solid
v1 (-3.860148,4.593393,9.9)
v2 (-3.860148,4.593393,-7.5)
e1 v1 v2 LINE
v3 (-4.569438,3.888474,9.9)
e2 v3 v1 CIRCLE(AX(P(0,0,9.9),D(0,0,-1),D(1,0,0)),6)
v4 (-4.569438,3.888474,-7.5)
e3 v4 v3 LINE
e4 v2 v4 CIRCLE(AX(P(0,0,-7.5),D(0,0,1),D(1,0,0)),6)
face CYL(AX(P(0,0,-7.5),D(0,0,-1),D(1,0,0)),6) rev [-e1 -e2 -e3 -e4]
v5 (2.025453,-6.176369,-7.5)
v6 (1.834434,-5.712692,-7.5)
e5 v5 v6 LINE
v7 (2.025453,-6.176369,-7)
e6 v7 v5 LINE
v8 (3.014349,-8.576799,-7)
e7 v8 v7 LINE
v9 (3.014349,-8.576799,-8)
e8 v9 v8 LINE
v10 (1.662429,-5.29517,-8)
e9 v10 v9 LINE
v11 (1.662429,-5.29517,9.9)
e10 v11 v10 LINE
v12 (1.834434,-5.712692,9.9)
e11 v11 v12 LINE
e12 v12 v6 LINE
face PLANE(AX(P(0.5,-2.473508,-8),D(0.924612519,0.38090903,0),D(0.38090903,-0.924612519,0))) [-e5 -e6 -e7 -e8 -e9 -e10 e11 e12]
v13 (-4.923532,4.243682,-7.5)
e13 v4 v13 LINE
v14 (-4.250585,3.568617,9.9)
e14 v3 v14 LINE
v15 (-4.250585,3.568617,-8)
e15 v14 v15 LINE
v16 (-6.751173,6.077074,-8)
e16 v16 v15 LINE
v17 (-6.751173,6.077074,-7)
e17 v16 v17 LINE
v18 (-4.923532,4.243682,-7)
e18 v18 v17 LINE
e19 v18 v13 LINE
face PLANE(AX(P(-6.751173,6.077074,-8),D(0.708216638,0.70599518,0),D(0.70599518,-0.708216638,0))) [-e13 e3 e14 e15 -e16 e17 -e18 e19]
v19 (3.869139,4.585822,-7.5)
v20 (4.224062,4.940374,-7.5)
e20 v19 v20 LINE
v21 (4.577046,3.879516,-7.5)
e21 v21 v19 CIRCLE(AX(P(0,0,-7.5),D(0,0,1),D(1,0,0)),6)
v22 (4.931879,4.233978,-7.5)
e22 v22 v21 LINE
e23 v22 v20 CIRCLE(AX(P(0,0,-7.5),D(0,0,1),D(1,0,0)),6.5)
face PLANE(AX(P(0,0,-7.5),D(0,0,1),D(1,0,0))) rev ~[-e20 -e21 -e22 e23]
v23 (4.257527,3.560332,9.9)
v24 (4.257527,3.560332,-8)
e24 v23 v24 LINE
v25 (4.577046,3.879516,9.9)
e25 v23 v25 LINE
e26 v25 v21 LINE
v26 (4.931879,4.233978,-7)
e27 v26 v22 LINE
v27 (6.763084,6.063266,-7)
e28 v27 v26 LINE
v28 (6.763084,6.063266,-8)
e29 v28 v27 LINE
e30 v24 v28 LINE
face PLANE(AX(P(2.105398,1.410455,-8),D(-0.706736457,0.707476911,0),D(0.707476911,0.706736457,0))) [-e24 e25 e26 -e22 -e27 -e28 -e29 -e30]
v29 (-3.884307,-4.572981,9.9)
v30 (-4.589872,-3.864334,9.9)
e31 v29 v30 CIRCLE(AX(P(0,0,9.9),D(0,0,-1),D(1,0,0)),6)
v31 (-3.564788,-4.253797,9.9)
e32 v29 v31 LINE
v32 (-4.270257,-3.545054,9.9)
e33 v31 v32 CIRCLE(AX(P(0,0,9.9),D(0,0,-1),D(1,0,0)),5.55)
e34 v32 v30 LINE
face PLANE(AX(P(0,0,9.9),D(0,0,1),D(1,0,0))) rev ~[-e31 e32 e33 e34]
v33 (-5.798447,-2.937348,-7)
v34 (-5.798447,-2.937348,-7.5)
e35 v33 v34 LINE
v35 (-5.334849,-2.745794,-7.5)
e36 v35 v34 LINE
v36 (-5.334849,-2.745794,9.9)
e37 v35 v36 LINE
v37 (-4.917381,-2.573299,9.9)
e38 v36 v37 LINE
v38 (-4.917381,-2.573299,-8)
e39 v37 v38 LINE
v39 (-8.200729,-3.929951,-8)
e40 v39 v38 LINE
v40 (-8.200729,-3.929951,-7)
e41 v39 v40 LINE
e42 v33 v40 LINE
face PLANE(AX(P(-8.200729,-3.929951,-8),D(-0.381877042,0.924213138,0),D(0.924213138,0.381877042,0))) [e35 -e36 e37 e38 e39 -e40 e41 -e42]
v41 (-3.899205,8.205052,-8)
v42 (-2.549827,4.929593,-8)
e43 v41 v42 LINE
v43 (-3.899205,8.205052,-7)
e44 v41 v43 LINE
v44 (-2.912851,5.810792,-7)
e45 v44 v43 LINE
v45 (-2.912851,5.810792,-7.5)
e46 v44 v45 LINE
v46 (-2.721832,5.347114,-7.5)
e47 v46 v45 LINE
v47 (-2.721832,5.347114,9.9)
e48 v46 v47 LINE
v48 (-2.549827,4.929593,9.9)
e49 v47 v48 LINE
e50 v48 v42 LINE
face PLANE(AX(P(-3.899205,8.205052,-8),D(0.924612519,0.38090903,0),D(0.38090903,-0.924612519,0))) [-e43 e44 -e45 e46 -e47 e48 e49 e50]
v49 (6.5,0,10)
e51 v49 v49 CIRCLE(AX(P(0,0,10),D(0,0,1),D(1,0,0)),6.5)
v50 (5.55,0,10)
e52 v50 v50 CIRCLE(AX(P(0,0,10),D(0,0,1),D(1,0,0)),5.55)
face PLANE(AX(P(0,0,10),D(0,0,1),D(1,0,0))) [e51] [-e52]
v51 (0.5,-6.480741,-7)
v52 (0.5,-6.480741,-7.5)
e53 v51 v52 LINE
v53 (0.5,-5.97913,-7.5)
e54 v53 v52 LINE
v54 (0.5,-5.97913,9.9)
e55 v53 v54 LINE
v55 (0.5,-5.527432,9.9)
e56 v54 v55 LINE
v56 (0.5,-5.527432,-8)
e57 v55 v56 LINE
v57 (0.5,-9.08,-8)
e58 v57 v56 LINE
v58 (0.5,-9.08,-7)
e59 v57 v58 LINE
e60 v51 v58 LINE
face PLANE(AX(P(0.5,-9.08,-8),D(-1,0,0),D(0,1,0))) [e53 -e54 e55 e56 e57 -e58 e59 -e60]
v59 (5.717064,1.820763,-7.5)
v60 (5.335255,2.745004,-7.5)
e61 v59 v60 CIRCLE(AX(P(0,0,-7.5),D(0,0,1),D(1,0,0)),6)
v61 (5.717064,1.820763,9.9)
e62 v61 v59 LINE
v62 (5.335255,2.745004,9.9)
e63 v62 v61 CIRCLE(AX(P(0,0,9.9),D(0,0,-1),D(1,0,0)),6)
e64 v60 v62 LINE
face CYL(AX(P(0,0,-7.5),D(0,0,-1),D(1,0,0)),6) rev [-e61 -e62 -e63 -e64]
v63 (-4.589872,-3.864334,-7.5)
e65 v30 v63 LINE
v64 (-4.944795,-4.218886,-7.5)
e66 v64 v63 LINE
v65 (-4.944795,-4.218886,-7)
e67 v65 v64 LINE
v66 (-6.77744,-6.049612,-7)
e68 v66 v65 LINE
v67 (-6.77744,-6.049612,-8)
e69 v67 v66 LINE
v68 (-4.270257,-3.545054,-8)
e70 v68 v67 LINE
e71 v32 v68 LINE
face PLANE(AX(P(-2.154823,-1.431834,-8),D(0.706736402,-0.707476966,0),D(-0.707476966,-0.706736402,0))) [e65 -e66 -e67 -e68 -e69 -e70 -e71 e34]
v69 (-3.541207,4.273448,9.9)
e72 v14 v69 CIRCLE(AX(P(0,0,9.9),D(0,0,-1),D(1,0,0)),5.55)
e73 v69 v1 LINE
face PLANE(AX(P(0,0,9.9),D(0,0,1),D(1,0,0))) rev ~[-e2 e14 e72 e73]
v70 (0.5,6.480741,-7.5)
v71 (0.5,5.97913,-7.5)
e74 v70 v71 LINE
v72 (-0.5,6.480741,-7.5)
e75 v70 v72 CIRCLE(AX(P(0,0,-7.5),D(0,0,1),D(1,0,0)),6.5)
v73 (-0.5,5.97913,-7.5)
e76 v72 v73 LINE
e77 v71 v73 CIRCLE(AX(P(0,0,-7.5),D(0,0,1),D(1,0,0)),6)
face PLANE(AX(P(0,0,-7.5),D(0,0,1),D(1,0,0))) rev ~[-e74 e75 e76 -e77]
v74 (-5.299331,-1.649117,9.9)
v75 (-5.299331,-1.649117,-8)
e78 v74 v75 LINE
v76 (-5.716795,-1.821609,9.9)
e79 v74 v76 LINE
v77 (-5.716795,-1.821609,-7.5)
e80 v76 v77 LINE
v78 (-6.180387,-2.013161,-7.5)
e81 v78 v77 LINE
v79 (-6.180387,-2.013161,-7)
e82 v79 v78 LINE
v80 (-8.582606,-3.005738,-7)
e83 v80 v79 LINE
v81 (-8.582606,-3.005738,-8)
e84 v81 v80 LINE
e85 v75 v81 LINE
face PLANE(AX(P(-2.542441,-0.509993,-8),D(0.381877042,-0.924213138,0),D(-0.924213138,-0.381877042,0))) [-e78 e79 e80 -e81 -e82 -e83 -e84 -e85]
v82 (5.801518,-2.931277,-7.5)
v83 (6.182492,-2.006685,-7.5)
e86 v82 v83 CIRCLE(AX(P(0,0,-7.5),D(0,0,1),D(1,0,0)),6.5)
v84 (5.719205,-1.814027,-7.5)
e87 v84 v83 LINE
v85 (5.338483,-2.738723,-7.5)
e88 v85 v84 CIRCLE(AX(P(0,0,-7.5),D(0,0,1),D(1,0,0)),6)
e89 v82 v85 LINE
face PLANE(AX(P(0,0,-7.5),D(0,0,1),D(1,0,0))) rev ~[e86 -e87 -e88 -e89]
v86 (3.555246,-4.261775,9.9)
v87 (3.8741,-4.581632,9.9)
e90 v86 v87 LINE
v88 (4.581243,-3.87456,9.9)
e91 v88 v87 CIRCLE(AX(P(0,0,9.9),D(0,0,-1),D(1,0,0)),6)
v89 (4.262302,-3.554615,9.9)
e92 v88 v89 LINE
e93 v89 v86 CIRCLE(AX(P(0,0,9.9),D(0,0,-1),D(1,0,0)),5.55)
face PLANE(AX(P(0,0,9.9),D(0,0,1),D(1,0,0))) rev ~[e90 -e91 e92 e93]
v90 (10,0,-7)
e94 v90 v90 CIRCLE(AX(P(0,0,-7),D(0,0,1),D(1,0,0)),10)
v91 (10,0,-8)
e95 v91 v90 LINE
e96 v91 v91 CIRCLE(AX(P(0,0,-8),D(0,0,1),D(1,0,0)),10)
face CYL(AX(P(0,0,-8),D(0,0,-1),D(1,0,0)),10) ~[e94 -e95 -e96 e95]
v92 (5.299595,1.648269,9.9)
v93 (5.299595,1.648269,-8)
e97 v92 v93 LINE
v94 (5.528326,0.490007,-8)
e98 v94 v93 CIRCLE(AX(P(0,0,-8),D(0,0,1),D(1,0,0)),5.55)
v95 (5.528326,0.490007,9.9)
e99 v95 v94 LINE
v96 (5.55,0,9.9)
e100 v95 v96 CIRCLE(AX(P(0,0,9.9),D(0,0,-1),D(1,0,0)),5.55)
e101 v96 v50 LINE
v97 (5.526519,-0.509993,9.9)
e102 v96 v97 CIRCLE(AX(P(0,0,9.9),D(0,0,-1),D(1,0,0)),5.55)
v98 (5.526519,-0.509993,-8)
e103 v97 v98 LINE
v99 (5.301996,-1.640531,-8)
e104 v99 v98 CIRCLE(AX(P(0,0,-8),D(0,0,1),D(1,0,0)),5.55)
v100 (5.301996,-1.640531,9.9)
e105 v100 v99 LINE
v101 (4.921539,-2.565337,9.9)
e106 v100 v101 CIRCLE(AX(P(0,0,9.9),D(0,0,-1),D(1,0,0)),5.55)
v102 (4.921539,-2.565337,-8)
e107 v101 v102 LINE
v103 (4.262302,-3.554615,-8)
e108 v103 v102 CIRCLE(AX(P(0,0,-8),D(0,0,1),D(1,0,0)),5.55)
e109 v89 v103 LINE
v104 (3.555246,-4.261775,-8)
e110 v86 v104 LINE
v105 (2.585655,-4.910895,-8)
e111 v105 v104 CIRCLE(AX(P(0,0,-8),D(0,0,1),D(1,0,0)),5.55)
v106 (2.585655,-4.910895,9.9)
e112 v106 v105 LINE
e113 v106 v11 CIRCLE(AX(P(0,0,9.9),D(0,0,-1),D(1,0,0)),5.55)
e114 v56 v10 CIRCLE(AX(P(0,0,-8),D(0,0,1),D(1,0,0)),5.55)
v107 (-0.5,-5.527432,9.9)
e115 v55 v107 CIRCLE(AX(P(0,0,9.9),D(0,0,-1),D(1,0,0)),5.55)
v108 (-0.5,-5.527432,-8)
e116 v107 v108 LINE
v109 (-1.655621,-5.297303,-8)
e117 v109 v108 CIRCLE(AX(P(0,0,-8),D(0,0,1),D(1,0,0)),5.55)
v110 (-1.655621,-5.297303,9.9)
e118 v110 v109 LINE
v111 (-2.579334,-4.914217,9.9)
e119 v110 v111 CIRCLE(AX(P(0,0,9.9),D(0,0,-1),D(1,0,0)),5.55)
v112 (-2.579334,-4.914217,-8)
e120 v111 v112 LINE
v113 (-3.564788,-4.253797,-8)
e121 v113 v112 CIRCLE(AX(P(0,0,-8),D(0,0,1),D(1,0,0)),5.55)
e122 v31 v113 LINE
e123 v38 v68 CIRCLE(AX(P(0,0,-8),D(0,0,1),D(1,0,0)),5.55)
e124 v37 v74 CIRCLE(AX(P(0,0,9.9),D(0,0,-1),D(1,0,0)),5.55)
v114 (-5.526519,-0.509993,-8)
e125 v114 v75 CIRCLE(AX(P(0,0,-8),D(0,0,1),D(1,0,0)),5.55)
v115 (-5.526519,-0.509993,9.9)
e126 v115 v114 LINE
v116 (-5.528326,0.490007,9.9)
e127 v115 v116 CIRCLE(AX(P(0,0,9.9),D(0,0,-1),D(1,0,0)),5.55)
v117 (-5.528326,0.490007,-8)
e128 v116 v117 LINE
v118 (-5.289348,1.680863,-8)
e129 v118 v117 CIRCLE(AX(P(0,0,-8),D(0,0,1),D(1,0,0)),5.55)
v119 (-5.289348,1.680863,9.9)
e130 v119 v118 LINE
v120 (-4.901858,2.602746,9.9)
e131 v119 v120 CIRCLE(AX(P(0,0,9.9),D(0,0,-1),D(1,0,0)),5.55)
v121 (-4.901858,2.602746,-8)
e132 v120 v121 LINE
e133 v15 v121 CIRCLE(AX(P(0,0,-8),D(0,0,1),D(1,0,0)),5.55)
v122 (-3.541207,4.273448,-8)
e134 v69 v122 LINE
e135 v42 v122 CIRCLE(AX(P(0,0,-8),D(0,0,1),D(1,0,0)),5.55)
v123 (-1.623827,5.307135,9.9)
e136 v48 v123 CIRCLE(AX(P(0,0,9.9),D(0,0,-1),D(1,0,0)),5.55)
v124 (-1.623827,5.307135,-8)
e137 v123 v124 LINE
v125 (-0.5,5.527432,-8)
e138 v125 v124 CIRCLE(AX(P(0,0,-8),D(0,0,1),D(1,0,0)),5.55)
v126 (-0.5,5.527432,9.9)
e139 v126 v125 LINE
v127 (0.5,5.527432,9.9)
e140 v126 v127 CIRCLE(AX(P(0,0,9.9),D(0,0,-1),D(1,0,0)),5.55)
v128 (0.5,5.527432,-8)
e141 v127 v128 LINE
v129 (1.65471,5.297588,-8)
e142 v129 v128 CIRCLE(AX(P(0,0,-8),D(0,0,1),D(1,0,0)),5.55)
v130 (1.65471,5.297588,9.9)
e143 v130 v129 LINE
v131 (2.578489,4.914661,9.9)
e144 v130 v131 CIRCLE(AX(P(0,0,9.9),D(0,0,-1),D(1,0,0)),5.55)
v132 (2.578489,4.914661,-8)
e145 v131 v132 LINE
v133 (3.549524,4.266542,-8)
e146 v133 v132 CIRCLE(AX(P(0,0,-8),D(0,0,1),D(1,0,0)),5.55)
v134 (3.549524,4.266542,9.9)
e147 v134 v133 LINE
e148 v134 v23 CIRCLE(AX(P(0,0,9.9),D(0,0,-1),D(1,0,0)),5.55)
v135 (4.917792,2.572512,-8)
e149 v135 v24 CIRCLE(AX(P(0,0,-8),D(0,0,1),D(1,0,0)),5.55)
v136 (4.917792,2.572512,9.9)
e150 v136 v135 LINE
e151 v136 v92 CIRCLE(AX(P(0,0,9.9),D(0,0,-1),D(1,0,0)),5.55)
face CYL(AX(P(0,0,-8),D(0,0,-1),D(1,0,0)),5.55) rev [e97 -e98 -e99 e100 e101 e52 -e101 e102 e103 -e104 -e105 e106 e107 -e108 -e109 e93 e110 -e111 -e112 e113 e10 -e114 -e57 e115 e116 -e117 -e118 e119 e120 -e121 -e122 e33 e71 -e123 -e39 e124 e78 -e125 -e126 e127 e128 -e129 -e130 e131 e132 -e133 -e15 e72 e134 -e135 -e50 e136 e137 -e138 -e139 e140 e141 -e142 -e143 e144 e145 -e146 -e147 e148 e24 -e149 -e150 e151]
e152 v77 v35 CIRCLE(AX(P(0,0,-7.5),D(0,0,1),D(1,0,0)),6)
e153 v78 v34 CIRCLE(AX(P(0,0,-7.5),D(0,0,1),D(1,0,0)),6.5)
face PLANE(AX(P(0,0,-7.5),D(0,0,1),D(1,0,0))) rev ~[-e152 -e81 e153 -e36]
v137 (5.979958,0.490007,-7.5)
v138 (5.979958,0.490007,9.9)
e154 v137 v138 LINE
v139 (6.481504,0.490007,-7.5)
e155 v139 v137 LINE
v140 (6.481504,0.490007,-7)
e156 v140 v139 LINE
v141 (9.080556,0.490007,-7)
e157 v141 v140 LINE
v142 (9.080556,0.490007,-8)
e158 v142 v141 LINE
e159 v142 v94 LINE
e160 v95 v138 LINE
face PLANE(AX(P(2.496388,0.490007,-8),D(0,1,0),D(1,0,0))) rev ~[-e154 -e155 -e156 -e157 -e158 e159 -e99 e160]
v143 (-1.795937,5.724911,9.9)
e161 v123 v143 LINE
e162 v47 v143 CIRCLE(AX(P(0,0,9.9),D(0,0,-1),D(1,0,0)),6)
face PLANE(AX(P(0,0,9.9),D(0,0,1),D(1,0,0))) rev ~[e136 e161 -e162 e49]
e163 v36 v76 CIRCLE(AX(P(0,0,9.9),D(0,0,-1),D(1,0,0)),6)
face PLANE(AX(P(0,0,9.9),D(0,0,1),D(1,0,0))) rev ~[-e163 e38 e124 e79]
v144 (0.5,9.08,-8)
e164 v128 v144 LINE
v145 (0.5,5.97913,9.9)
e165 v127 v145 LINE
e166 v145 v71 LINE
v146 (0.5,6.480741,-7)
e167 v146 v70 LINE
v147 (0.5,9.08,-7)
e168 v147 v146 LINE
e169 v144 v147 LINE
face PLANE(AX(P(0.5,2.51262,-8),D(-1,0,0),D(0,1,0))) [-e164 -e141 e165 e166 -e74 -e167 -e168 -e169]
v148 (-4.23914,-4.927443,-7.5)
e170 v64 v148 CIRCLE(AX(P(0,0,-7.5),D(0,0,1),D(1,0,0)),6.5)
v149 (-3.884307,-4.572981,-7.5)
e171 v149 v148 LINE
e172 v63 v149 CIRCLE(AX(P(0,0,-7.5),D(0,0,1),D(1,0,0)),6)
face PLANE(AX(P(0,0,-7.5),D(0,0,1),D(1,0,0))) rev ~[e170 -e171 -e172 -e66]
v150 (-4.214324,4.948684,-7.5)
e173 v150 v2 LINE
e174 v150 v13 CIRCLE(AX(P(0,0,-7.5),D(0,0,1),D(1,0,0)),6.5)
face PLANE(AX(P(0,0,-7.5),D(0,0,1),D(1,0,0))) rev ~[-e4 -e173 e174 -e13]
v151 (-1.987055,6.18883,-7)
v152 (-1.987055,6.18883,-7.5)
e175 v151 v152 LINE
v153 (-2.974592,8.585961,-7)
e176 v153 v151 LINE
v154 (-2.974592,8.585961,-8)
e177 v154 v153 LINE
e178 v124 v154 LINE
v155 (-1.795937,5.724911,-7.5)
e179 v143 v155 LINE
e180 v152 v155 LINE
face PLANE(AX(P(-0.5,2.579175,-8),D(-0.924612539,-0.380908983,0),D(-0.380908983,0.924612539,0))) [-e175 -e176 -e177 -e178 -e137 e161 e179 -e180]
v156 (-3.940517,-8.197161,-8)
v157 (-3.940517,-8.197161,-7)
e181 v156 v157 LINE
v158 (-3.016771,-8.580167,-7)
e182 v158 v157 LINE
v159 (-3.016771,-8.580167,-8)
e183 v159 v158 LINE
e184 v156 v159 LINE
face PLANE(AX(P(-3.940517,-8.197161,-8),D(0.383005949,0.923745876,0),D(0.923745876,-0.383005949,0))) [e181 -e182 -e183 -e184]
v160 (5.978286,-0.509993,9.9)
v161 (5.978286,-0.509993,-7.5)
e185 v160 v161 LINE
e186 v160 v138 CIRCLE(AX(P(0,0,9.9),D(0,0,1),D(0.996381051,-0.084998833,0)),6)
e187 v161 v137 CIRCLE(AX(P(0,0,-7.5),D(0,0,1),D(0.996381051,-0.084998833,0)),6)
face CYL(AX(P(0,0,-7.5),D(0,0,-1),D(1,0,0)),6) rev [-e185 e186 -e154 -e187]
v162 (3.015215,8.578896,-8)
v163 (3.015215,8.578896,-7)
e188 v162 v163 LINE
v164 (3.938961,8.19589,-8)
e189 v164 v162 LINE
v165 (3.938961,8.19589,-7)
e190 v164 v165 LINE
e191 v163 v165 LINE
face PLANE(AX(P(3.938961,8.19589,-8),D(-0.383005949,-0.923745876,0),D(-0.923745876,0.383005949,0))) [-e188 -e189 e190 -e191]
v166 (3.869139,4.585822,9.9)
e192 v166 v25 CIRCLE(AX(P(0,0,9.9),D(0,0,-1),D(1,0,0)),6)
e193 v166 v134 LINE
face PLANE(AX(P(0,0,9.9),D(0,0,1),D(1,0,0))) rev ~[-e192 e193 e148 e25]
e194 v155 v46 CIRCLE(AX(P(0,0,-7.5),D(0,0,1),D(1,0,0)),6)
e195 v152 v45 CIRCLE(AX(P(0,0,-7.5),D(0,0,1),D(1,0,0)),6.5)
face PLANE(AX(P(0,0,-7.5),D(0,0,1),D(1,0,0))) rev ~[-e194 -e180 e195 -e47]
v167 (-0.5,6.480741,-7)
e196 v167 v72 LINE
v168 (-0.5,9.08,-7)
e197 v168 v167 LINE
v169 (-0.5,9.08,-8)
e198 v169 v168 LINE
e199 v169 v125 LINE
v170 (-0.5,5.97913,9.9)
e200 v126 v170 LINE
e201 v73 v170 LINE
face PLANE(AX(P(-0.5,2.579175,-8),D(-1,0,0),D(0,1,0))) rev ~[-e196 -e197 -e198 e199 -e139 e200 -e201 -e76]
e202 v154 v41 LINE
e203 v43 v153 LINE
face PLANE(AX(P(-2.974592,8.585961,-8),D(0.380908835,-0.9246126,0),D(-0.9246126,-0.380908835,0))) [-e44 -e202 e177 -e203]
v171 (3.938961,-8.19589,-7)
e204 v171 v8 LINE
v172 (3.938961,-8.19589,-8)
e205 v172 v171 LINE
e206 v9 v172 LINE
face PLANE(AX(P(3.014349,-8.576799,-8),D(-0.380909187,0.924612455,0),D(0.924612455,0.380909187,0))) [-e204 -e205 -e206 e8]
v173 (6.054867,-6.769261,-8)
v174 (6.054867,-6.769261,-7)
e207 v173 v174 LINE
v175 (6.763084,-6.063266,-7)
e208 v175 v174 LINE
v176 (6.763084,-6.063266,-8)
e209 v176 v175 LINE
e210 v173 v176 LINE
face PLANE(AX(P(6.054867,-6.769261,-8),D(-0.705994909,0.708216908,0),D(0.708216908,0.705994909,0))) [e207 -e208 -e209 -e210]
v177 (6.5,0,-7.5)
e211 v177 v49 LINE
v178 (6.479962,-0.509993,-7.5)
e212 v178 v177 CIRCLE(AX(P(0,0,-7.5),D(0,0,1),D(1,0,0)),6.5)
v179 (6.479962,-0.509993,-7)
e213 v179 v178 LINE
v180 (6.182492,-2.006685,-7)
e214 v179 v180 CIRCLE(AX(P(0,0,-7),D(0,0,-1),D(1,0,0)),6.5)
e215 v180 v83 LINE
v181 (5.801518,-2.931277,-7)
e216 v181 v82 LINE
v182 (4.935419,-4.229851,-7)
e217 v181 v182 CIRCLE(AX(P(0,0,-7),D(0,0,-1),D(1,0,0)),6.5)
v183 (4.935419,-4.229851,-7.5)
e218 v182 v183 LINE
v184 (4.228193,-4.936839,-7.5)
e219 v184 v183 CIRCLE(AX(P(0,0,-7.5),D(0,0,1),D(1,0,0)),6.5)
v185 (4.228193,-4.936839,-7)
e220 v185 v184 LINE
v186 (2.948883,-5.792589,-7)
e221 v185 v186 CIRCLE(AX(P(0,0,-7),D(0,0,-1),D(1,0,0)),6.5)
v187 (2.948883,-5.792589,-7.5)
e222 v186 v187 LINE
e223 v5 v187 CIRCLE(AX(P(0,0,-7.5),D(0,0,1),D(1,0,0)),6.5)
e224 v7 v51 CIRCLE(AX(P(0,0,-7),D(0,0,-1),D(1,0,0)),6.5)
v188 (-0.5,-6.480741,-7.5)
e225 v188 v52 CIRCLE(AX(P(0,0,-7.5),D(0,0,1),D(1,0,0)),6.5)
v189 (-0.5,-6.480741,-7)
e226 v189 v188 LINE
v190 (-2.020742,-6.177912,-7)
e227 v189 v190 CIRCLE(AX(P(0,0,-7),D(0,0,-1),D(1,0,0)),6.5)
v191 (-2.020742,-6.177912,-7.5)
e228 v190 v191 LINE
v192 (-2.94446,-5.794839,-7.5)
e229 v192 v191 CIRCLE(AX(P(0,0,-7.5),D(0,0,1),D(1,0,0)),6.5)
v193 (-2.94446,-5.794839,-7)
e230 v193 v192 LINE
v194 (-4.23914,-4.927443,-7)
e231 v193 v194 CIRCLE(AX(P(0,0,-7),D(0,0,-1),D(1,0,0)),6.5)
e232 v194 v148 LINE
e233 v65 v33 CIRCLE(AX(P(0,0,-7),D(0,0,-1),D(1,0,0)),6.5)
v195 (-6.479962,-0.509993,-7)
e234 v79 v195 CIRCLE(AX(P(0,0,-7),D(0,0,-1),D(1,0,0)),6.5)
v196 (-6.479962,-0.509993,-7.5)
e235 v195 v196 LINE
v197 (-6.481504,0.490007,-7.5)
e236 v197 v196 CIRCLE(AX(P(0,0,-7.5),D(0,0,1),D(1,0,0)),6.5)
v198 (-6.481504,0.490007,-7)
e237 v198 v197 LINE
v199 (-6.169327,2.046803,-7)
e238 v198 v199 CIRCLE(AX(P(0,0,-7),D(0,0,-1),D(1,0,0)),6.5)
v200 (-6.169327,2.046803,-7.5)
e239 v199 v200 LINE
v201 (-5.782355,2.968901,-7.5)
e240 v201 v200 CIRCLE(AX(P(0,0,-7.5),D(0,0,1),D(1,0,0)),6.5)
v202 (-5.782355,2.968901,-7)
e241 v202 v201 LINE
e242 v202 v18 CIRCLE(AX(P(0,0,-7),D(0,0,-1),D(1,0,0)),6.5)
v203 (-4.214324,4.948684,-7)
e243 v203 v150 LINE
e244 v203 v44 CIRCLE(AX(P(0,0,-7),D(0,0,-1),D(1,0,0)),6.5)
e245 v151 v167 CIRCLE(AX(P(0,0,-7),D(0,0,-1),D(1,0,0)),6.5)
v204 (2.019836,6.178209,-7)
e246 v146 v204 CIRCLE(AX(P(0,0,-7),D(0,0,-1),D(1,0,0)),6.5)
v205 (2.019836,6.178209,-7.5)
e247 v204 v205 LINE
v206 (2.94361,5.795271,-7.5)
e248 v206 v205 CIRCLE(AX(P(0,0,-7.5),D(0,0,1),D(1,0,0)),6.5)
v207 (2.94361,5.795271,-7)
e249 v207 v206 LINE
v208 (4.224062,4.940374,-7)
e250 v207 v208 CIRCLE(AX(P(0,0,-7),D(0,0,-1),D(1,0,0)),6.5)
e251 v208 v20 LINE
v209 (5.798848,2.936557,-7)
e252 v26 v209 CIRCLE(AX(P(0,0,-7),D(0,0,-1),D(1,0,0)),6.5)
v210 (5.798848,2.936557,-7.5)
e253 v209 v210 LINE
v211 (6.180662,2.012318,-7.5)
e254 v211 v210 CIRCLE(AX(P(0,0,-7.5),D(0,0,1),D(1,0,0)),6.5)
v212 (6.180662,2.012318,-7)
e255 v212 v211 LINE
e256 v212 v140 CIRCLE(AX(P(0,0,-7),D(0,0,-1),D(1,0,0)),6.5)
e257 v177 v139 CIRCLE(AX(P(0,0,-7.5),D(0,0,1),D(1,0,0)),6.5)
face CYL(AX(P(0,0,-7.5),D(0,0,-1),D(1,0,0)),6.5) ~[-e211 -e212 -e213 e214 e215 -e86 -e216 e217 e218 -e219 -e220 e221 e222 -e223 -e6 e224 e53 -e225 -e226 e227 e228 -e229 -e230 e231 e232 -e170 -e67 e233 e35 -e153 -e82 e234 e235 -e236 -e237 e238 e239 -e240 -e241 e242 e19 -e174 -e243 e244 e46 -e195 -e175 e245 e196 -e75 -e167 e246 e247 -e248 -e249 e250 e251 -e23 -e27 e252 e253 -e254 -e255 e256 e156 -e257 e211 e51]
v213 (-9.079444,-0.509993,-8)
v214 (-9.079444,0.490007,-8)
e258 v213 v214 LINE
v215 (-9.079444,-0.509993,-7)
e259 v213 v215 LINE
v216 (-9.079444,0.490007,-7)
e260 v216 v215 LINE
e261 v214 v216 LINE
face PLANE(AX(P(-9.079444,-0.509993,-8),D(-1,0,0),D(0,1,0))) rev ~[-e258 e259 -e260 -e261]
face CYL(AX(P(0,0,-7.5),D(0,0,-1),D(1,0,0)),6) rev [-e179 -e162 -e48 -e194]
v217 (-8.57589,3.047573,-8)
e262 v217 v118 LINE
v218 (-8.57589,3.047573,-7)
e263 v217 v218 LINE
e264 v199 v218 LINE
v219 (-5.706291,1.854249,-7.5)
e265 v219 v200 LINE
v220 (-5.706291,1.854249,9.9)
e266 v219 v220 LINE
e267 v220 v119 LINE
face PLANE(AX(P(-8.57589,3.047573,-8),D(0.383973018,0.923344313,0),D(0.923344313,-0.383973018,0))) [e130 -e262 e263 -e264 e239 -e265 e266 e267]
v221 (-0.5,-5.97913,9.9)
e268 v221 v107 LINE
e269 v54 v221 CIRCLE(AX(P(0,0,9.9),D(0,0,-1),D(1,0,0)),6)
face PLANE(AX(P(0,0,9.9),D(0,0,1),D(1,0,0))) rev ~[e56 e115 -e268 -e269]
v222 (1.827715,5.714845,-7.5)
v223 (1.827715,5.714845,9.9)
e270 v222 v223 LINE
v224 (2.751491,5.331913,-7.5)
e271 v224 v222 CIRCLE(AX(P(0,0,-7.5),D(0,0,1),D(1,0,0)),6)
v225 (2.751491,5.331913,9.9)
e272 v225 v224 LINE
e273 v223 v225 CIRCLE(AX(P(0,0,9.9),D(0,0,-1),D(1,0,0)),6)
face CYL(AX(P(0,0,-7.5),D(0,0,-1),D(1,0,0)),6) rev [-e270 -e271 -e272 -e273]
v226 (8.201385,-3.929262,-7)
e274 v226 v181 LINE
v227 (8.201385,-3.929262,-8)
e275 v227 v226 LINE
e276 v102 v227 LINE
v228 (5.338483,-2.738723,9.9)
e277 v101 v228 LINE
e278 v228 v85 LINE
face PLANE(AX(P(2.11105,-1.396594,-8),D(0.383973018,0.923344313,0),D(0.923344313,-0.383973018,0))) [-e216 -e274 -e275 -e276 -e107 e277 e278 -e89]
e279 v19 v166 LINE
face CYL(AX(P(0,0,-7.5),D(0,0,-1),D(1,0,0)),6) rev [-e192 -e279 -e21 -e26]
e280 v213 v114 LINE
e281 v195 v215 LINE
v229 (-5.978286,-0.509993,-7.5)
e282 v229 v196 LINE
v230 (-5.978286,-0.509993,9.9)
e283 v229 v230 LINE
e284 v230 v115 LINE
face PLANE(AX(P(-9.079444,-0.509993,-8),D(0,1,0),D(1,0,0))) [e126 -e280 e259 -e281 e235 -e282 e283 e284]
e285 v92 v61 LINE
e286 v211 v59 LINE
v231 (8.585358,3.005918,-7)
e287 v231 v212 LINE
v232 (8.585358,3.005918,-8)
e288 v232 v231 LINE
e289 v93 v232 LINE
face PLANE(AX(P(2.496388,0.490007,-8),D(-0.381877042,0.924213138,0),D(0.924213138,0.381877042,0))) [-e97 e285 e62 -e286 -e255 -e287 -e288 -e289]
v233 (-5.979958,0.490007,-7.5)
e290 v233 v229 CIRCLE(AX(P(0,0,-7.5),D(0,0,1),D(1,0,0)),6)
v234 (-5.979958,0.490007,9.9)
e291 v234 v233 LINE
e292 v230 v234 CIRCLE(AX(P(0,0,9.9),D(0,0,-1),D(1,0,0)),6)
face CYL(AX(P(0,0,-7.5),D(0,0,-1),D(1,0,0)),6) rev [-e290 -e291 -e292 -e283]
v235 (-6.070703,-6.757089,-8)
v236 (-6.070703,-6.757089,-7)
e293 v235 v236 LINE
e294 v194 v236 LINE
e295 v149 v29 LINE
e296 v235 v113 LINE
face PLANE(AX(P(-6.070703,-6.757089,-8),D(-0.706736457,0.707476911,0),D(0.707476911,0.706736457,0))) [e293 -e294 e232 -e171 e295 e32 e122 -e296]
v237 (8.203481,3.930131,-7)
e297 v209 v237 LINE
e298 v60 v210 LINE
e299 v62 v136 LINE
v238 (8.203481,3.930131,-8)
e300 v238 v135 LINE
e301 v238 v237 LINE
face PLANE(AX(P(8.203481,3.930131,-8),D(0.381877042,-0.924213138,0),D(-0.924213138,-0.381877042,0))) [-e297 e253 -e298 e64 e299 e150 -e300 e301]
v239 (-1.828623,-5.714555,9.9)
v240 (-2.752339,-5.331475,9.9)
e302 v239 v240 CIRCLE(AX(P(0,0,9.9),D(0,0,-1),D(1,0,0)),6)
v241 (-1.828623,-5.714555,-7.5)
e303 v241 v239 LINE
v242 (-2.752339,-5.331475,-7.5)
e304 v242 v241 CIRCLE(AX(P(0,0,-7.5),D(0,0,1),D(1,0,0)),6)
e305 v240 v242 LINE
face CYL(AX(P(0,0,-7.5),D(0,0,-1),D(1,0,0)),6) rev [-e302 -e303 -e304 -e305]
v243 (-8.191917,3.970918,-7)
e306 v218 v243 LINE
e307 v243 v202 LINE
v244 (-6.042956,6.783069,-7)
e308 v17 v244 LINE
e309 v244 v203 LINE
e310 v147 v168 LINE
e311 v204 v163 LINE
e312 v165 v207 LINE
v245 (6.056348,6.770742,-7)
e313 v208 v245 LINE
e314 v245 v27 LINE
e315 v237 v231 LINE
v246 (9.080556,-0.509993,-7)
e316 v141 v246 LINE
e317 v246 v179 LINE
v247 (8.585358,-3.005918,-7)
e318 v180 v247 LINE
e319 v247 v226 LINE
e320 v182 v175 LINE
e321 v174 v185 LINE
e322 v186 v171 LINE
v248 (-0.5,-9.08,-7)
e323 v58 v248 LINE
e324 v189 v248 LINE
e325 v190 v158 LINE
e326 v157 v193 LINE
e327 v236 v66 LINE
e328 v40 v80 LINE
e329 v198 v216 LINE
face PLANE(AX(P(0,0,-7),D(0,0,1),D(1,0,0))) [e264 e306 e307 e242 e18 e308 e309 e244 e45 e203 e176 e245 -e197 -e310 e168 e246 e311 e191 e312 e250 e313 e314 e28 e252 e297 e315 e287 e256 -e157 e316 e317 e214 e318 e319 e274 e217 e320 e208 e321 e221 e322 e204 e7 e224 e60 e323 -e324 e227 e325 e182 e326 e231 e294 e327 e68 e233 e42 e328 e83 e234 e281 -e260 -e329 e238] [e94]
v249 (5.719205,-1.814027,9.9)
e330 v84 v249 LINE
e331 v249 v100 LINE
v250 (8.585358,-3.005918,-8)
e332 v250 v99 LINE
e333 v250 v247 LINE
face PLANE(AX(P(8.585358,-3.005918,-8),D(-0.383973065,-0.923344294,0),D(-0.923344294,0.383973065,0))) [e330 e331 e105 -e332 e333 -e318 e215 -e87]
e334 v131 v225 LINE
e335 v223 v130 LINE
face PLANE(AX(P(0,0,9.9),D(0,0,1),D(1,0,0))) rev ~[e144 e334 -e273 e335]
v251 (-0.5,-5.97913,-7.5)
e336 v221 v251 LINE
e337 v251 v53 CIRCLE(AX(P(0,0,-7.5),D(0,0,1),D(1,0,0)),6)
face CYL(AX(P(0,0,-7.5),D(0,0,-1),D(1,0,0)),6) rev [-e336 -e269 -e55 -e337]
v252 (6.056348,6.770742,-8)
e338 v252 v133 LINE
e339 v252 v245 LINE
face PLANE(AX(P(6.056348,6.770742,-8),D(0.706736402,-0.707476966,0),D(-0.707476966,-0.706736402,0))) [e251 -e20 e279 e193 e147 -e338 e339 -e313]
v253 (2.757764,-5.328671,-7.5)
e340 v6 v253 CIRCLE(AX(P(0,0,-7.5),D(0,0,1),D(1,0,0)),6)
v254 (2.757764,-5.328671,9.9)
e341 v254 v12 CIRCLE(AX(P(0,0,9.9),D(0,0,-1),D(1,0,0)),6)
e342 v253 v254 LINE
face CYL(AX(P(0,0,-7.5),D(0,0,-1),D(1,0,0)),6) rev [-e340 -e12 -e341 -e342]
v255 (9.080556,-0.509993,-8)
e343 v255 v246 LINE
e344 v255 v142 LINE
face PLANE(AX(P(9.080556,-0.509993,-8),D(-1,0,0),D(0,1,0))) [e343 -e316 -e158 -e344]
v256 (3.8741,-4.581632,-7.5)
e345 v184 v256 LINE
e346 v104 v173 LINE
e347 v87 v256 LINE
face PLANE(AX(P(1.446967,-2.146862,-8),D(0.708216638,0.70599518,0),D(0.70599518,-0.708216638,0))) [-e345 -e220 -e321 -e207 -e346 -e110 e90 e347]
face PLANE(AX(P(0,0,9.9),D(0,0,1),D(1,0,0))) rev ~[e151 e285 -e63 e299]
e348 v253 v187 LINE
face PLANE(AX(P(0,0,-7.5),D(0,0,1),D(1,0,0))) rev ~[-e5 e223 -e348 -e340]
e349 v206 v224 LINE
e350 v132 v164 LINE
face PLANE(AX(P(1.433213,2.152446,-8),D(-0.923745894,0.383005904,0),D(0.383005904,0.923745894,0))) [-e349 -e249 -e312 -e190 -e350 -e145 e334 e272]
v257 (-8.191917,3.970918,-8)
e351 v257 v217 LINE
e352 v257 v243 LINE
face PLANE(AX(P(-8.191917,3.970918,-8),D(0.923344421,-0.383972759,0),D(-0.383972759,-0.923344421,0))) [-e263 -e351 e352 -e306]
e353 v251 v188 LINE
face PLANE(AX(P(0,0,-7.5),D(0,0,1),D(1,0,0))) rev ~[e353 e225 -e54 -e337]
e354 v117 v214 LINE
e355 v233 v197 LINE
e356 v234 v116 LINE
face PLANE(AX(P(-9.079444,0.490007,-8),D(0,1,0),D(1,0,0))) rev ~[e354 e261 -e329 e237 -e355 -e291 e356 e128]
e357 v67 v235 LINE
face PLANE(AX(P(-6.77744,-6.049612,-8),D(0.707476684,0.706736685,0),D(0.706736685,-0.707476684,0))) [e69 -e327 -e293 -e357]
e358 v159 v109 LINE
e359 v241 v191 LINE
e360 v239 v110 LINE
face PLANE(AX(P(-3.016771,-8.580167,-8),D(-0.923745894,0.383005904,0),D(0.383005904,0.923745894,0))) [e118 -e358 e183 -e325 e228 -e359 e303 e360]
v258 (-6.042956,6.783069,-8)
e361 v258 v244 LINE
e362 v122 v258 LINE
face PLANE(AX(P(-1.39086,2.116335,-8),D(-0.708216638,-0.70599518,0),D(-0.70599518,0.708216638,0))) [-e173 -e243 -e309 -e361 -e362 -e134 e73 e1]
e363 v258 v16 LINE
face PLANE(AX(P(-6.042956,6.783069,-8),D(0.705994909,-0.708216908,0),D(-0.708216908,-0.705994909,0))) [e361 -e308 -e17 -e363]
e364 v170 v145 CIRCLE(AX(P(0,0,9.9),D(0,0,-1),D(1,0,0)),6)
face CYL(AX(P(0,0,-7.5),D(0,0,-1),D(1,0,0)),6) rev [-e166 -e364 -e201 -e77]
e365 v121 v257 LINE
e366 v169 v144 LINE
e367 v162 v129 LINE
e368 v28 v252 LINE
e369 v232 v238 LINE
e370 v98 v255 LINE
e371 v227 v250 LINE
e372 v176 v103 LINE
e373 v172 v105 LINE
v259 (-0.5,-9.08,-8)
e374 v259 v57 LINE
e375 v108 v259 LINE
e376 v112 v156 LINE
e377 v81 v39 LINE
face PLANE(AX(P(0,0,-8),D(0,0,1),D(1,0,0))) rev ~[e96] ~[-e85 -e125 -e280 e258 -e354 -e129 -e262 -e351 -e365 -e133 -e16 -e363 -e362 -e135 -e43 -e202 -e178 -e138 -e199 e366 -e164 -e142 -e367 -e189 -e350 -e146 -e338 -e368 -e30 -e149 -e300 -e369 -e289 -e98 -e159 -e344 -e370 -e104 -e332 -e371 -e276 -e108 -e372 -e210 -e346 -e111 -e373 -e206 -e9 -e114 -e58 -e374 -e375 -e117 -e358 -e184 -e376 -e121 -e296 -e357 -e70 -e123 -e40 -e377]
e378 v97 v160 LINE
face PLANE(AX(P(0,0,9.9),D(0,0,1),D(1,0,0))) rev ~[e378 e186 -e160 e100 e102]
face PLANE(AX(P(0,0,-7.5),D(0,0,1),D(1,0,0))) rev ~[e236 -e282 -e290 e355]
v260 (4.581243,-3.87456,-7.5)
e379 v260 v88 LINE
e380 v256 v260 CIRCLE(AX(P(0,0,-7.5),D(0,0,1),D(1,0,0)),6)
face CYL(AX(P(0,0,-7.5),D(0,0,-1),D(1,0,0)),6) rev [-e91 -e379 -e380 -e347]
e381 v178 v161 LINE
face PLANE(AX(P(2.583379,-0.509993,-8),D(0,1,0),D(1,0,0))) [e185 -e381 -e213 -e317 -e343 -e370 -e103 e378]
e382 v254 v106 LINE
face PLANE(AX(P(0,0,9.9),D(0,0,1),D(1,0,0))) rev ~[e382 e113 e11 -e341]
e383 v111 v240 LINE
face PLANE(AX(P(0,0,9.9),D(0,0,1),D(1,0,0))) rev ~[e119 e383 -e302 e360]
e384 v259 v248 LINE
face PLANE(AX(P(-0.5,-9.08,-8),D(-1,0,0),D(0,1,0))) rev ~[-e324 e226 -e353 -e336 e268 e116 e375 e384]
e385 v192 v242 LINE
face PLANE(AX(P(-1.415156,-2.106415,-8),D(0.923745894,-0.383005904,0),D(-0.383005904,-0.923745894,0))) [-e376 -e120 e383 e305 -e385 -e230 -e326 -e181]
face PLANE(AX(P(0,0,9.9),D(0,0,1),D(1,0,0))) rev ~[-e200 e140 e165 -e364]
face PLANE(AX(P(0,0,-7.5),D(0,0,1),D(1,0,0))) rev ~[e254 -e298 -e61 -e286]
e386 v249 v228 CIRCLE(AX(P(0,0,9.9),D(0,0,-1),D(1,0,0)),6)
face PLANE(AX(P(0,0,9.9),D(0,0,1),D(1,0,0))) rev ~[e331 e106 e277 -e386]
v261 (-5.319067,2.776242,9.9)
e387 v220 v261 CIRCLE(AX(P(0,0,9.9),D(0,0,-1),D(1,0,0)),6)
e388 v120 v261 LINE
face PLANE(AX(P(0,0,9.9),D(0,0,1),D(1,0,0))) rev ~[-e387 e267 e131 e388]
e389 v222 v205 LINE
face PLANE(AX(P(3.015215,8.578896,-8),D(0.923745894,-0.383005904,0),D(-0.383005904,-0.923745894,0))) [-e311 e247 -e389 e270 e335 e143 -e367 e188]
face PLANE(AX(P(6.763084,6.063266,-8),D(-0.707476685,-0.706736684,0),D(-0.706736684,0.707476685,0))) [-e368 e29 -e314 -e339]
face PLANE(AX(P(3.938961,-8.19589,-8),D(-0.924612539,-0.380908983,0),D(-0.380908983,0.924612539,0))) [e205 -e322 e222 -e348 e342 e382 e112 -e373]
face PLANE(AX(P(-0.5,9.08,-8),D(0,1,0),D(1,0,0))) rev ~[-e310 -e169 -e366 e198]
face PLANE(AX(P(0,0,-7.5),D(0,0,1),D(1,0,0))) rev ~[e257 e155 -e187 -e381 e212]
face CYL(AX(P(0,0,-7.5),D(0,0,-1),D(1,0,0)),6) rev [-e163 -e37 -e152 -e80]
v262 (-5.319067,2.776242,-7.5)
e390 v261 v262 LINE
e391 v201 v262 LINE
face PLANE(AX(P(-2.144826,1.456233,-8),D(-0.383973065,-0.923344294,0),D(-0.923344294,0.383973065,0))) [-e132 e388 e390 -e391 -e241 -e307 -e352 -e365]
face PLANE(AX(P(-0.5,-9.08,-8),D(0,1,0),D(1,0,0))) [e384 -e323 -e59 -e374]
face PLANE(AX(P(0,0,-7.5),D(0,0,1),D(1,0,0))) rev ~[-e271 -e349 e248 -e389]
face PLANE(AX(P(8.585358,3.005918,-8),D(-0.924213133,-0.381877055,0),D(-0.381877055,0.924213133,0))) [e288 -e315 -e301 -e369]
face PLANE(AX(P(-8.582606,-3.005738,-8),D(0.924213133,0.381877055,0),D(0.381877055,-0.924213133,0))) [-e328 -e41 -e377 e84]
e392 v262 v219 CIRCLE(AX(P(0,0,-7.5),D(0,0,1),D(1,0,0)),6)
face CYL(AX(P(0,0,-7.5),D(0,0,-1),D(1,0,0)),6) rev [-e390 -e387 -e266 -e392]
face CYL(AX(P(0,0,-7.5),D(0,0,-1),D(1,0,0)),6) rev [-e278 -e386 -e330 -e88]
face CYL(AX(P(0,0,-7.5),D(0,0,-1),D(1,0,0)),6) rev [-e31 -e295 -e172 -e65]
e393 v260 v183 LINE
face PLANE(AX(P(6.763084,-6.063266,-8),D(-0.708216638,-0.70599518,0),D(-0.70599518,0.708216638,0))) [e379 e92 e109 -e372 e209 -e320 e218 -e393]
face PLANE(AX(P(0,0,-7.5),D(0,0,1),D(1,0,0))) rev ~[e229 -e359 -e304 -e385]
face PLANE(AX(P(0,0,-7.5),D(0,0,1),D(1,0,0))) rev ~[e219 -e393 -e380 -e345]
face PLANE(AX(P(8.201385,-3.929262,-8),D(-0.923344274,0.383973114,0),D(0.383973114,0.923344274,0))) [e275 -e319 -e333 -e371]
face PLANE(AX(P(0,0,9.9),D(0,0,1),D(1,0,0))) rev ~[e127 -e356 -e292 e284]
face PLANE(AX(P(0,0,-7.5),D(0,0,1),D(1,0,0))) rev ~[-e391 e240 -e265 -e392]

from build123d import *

# Parameters (mm, degrees)
SKETCH007_R     = 10
SKETCH007_R_2   = 5.75
PAD004_DEPTH    = 1
SKETCH008_W     = 1
SKETCH008_H     = 18.16
SKETCH008_W_2   = 18.16
SKETCH008_H_2   = 1
POCKET002_DEPTH = 13
SKETCH009_R     = 6
SKETCH009_R_2   = 5.55
PAD005_DEPTH    = 18
SKETCH010_W     = 1
SKETCH010_H     = 18.16
SKETCH010_W_2   = 18.16
SKETCH010_H_2   = 1
POCKET003_DEPTH = 17.9
SKETCH011_R     = 6.5
SKETCH011_R_2   = 6
PAD006_DEPTH    = 17.5


with BuildPart() as coil_side:
    # Sketch007 → Pad004 (new body)
    with BuildSketch(Plane.XY):
        Circle(SKETCH007_R)
        Circle(SKETCH007_R_2, mode=Mode.SUBTRACT)
    extrude(amount=PAD004_DEPTH)

    # Sketch008 → Pocket002 (cut)
    with BuildSketch(Plane.XY):
        Rectangle(SKETCH008_W, SKETCH008_H)
        Polygon((3.015215, 8.578896), (-3.940517, -8.197161), (-3.016771, -8.580167), (3.938961, 8.19589), align=None)
        Polygon((6.056348, 6.770742), (-6.77744, -6.049612), (-6.070703, -6.757089), (6.763084, 6.063266), align=None)
        Polygon((8.203481, 3.930131), (-8.582606, -3.005738), (-8.200729, -3.929951), (8.585358, 3.005918), align=None)
        with Locations((0.000556, -0.009993)):
            Rectangle(SKETCH008_W_2, SKETCH008_H_2)
        Polygon((8.585358, -3.005918), (-8.191917, 3.970918), (-8.57589, 3.047573), (8.201385, -3.929262), align=None)
        Polygon((6.763084, -6.063266), (-6.042956, 6.783069), (-6.751173, 6.077074), (6.054867, -6.769261), align=None)
        Polygon((3.938961, -8.19589), (-2.974592, 8.585961), (-3.899205, 8.205052), (3.014349, -8.576799), align=None)
    extrude(amount=POCKET002_DEPTH, mode=Mode.SUBTRACT)


with BuildPart() as coil_side_1:
    # Body015 placement: moved
    add(coil_side.part.moved(Location((0, 0, -8))))


with BuildPart() as body016:
    # Sketch009 → Pad005 (new body)
    with BuildSketch(Plane.XY):
        Circle(SKETCH009_R)
        Circle(SKETCH009_R_2, mode=Mode.SUBTRACT)
    extrude(amount=PAD005_DEPTH)

    # Sketch010 → Pocket003 (cut)
    with BuildSketch(Plane.XY):
        Rectangle(SKETCH010_W, SKETCH010_H)
        Polygon((3.015215, 8.578896), (-3.940517, -8.197161), (-3.016771, -8.580167), (3.938961, 8.19589), align=None)
        Polygon((6.056348, 6.770742), (-6.77744, -6.049612), (-6.070703, -6.757089), (6.763084, 6.063266), align=None)
        Polygon((8.203481, 3.930131), (-8.582606, -3.005738), (-8.200729, -3.929951), (8.585358, 3.005918), align=None)
        with Locations((0.000556, -0.009993)):
            Rectangle(SKETCH010_W_2, SKETCH010_H_2)
        Polygon((8.585358, -3.005918), (-8.191917, 3.970918), (-8.57589, 3.047573), (8.201385, -3.929262), align=None)
        Polygon((6.763084, -6.063266), (-6.042956, 6.783069), (-6.751173, 6.077074), (6.054867, -6.769261), align=None)
        Polygon((3.938961, -8.19589), (-2.974592, 8.585961), (-3.899205, 8.205052), (3.014349, -8.576799), align=None)
    extrude(amount=POCKET003_DEPTH, mode=Mode.SUBTRACT)


with BuildPart() as body016_1:
    # Body016 placement: moved
    add(body016.part.moved(Location((0, 0, -8))))


with BuildPart() as coil:
    # Sketch011 → Pad006 (new body)
    with BuildSketch(Plane.XY):
        Circle(SKETCH011_R)
        Circle(SKETCH011_R_2, mode=Mode.SUBTRACT)
    extrude(amount=PAD006_DEPTH)


with BuildPart() as coil_1:
    # Body017 placement: moved
    add(coil.part.moved(Location((0, 0, -7.5))))

    # Fusion003: union Body016
    add(body016_1.part)

    # Fusion004: union Coil_side
    add(coil_side_1.part)


solid = coil_1.part
